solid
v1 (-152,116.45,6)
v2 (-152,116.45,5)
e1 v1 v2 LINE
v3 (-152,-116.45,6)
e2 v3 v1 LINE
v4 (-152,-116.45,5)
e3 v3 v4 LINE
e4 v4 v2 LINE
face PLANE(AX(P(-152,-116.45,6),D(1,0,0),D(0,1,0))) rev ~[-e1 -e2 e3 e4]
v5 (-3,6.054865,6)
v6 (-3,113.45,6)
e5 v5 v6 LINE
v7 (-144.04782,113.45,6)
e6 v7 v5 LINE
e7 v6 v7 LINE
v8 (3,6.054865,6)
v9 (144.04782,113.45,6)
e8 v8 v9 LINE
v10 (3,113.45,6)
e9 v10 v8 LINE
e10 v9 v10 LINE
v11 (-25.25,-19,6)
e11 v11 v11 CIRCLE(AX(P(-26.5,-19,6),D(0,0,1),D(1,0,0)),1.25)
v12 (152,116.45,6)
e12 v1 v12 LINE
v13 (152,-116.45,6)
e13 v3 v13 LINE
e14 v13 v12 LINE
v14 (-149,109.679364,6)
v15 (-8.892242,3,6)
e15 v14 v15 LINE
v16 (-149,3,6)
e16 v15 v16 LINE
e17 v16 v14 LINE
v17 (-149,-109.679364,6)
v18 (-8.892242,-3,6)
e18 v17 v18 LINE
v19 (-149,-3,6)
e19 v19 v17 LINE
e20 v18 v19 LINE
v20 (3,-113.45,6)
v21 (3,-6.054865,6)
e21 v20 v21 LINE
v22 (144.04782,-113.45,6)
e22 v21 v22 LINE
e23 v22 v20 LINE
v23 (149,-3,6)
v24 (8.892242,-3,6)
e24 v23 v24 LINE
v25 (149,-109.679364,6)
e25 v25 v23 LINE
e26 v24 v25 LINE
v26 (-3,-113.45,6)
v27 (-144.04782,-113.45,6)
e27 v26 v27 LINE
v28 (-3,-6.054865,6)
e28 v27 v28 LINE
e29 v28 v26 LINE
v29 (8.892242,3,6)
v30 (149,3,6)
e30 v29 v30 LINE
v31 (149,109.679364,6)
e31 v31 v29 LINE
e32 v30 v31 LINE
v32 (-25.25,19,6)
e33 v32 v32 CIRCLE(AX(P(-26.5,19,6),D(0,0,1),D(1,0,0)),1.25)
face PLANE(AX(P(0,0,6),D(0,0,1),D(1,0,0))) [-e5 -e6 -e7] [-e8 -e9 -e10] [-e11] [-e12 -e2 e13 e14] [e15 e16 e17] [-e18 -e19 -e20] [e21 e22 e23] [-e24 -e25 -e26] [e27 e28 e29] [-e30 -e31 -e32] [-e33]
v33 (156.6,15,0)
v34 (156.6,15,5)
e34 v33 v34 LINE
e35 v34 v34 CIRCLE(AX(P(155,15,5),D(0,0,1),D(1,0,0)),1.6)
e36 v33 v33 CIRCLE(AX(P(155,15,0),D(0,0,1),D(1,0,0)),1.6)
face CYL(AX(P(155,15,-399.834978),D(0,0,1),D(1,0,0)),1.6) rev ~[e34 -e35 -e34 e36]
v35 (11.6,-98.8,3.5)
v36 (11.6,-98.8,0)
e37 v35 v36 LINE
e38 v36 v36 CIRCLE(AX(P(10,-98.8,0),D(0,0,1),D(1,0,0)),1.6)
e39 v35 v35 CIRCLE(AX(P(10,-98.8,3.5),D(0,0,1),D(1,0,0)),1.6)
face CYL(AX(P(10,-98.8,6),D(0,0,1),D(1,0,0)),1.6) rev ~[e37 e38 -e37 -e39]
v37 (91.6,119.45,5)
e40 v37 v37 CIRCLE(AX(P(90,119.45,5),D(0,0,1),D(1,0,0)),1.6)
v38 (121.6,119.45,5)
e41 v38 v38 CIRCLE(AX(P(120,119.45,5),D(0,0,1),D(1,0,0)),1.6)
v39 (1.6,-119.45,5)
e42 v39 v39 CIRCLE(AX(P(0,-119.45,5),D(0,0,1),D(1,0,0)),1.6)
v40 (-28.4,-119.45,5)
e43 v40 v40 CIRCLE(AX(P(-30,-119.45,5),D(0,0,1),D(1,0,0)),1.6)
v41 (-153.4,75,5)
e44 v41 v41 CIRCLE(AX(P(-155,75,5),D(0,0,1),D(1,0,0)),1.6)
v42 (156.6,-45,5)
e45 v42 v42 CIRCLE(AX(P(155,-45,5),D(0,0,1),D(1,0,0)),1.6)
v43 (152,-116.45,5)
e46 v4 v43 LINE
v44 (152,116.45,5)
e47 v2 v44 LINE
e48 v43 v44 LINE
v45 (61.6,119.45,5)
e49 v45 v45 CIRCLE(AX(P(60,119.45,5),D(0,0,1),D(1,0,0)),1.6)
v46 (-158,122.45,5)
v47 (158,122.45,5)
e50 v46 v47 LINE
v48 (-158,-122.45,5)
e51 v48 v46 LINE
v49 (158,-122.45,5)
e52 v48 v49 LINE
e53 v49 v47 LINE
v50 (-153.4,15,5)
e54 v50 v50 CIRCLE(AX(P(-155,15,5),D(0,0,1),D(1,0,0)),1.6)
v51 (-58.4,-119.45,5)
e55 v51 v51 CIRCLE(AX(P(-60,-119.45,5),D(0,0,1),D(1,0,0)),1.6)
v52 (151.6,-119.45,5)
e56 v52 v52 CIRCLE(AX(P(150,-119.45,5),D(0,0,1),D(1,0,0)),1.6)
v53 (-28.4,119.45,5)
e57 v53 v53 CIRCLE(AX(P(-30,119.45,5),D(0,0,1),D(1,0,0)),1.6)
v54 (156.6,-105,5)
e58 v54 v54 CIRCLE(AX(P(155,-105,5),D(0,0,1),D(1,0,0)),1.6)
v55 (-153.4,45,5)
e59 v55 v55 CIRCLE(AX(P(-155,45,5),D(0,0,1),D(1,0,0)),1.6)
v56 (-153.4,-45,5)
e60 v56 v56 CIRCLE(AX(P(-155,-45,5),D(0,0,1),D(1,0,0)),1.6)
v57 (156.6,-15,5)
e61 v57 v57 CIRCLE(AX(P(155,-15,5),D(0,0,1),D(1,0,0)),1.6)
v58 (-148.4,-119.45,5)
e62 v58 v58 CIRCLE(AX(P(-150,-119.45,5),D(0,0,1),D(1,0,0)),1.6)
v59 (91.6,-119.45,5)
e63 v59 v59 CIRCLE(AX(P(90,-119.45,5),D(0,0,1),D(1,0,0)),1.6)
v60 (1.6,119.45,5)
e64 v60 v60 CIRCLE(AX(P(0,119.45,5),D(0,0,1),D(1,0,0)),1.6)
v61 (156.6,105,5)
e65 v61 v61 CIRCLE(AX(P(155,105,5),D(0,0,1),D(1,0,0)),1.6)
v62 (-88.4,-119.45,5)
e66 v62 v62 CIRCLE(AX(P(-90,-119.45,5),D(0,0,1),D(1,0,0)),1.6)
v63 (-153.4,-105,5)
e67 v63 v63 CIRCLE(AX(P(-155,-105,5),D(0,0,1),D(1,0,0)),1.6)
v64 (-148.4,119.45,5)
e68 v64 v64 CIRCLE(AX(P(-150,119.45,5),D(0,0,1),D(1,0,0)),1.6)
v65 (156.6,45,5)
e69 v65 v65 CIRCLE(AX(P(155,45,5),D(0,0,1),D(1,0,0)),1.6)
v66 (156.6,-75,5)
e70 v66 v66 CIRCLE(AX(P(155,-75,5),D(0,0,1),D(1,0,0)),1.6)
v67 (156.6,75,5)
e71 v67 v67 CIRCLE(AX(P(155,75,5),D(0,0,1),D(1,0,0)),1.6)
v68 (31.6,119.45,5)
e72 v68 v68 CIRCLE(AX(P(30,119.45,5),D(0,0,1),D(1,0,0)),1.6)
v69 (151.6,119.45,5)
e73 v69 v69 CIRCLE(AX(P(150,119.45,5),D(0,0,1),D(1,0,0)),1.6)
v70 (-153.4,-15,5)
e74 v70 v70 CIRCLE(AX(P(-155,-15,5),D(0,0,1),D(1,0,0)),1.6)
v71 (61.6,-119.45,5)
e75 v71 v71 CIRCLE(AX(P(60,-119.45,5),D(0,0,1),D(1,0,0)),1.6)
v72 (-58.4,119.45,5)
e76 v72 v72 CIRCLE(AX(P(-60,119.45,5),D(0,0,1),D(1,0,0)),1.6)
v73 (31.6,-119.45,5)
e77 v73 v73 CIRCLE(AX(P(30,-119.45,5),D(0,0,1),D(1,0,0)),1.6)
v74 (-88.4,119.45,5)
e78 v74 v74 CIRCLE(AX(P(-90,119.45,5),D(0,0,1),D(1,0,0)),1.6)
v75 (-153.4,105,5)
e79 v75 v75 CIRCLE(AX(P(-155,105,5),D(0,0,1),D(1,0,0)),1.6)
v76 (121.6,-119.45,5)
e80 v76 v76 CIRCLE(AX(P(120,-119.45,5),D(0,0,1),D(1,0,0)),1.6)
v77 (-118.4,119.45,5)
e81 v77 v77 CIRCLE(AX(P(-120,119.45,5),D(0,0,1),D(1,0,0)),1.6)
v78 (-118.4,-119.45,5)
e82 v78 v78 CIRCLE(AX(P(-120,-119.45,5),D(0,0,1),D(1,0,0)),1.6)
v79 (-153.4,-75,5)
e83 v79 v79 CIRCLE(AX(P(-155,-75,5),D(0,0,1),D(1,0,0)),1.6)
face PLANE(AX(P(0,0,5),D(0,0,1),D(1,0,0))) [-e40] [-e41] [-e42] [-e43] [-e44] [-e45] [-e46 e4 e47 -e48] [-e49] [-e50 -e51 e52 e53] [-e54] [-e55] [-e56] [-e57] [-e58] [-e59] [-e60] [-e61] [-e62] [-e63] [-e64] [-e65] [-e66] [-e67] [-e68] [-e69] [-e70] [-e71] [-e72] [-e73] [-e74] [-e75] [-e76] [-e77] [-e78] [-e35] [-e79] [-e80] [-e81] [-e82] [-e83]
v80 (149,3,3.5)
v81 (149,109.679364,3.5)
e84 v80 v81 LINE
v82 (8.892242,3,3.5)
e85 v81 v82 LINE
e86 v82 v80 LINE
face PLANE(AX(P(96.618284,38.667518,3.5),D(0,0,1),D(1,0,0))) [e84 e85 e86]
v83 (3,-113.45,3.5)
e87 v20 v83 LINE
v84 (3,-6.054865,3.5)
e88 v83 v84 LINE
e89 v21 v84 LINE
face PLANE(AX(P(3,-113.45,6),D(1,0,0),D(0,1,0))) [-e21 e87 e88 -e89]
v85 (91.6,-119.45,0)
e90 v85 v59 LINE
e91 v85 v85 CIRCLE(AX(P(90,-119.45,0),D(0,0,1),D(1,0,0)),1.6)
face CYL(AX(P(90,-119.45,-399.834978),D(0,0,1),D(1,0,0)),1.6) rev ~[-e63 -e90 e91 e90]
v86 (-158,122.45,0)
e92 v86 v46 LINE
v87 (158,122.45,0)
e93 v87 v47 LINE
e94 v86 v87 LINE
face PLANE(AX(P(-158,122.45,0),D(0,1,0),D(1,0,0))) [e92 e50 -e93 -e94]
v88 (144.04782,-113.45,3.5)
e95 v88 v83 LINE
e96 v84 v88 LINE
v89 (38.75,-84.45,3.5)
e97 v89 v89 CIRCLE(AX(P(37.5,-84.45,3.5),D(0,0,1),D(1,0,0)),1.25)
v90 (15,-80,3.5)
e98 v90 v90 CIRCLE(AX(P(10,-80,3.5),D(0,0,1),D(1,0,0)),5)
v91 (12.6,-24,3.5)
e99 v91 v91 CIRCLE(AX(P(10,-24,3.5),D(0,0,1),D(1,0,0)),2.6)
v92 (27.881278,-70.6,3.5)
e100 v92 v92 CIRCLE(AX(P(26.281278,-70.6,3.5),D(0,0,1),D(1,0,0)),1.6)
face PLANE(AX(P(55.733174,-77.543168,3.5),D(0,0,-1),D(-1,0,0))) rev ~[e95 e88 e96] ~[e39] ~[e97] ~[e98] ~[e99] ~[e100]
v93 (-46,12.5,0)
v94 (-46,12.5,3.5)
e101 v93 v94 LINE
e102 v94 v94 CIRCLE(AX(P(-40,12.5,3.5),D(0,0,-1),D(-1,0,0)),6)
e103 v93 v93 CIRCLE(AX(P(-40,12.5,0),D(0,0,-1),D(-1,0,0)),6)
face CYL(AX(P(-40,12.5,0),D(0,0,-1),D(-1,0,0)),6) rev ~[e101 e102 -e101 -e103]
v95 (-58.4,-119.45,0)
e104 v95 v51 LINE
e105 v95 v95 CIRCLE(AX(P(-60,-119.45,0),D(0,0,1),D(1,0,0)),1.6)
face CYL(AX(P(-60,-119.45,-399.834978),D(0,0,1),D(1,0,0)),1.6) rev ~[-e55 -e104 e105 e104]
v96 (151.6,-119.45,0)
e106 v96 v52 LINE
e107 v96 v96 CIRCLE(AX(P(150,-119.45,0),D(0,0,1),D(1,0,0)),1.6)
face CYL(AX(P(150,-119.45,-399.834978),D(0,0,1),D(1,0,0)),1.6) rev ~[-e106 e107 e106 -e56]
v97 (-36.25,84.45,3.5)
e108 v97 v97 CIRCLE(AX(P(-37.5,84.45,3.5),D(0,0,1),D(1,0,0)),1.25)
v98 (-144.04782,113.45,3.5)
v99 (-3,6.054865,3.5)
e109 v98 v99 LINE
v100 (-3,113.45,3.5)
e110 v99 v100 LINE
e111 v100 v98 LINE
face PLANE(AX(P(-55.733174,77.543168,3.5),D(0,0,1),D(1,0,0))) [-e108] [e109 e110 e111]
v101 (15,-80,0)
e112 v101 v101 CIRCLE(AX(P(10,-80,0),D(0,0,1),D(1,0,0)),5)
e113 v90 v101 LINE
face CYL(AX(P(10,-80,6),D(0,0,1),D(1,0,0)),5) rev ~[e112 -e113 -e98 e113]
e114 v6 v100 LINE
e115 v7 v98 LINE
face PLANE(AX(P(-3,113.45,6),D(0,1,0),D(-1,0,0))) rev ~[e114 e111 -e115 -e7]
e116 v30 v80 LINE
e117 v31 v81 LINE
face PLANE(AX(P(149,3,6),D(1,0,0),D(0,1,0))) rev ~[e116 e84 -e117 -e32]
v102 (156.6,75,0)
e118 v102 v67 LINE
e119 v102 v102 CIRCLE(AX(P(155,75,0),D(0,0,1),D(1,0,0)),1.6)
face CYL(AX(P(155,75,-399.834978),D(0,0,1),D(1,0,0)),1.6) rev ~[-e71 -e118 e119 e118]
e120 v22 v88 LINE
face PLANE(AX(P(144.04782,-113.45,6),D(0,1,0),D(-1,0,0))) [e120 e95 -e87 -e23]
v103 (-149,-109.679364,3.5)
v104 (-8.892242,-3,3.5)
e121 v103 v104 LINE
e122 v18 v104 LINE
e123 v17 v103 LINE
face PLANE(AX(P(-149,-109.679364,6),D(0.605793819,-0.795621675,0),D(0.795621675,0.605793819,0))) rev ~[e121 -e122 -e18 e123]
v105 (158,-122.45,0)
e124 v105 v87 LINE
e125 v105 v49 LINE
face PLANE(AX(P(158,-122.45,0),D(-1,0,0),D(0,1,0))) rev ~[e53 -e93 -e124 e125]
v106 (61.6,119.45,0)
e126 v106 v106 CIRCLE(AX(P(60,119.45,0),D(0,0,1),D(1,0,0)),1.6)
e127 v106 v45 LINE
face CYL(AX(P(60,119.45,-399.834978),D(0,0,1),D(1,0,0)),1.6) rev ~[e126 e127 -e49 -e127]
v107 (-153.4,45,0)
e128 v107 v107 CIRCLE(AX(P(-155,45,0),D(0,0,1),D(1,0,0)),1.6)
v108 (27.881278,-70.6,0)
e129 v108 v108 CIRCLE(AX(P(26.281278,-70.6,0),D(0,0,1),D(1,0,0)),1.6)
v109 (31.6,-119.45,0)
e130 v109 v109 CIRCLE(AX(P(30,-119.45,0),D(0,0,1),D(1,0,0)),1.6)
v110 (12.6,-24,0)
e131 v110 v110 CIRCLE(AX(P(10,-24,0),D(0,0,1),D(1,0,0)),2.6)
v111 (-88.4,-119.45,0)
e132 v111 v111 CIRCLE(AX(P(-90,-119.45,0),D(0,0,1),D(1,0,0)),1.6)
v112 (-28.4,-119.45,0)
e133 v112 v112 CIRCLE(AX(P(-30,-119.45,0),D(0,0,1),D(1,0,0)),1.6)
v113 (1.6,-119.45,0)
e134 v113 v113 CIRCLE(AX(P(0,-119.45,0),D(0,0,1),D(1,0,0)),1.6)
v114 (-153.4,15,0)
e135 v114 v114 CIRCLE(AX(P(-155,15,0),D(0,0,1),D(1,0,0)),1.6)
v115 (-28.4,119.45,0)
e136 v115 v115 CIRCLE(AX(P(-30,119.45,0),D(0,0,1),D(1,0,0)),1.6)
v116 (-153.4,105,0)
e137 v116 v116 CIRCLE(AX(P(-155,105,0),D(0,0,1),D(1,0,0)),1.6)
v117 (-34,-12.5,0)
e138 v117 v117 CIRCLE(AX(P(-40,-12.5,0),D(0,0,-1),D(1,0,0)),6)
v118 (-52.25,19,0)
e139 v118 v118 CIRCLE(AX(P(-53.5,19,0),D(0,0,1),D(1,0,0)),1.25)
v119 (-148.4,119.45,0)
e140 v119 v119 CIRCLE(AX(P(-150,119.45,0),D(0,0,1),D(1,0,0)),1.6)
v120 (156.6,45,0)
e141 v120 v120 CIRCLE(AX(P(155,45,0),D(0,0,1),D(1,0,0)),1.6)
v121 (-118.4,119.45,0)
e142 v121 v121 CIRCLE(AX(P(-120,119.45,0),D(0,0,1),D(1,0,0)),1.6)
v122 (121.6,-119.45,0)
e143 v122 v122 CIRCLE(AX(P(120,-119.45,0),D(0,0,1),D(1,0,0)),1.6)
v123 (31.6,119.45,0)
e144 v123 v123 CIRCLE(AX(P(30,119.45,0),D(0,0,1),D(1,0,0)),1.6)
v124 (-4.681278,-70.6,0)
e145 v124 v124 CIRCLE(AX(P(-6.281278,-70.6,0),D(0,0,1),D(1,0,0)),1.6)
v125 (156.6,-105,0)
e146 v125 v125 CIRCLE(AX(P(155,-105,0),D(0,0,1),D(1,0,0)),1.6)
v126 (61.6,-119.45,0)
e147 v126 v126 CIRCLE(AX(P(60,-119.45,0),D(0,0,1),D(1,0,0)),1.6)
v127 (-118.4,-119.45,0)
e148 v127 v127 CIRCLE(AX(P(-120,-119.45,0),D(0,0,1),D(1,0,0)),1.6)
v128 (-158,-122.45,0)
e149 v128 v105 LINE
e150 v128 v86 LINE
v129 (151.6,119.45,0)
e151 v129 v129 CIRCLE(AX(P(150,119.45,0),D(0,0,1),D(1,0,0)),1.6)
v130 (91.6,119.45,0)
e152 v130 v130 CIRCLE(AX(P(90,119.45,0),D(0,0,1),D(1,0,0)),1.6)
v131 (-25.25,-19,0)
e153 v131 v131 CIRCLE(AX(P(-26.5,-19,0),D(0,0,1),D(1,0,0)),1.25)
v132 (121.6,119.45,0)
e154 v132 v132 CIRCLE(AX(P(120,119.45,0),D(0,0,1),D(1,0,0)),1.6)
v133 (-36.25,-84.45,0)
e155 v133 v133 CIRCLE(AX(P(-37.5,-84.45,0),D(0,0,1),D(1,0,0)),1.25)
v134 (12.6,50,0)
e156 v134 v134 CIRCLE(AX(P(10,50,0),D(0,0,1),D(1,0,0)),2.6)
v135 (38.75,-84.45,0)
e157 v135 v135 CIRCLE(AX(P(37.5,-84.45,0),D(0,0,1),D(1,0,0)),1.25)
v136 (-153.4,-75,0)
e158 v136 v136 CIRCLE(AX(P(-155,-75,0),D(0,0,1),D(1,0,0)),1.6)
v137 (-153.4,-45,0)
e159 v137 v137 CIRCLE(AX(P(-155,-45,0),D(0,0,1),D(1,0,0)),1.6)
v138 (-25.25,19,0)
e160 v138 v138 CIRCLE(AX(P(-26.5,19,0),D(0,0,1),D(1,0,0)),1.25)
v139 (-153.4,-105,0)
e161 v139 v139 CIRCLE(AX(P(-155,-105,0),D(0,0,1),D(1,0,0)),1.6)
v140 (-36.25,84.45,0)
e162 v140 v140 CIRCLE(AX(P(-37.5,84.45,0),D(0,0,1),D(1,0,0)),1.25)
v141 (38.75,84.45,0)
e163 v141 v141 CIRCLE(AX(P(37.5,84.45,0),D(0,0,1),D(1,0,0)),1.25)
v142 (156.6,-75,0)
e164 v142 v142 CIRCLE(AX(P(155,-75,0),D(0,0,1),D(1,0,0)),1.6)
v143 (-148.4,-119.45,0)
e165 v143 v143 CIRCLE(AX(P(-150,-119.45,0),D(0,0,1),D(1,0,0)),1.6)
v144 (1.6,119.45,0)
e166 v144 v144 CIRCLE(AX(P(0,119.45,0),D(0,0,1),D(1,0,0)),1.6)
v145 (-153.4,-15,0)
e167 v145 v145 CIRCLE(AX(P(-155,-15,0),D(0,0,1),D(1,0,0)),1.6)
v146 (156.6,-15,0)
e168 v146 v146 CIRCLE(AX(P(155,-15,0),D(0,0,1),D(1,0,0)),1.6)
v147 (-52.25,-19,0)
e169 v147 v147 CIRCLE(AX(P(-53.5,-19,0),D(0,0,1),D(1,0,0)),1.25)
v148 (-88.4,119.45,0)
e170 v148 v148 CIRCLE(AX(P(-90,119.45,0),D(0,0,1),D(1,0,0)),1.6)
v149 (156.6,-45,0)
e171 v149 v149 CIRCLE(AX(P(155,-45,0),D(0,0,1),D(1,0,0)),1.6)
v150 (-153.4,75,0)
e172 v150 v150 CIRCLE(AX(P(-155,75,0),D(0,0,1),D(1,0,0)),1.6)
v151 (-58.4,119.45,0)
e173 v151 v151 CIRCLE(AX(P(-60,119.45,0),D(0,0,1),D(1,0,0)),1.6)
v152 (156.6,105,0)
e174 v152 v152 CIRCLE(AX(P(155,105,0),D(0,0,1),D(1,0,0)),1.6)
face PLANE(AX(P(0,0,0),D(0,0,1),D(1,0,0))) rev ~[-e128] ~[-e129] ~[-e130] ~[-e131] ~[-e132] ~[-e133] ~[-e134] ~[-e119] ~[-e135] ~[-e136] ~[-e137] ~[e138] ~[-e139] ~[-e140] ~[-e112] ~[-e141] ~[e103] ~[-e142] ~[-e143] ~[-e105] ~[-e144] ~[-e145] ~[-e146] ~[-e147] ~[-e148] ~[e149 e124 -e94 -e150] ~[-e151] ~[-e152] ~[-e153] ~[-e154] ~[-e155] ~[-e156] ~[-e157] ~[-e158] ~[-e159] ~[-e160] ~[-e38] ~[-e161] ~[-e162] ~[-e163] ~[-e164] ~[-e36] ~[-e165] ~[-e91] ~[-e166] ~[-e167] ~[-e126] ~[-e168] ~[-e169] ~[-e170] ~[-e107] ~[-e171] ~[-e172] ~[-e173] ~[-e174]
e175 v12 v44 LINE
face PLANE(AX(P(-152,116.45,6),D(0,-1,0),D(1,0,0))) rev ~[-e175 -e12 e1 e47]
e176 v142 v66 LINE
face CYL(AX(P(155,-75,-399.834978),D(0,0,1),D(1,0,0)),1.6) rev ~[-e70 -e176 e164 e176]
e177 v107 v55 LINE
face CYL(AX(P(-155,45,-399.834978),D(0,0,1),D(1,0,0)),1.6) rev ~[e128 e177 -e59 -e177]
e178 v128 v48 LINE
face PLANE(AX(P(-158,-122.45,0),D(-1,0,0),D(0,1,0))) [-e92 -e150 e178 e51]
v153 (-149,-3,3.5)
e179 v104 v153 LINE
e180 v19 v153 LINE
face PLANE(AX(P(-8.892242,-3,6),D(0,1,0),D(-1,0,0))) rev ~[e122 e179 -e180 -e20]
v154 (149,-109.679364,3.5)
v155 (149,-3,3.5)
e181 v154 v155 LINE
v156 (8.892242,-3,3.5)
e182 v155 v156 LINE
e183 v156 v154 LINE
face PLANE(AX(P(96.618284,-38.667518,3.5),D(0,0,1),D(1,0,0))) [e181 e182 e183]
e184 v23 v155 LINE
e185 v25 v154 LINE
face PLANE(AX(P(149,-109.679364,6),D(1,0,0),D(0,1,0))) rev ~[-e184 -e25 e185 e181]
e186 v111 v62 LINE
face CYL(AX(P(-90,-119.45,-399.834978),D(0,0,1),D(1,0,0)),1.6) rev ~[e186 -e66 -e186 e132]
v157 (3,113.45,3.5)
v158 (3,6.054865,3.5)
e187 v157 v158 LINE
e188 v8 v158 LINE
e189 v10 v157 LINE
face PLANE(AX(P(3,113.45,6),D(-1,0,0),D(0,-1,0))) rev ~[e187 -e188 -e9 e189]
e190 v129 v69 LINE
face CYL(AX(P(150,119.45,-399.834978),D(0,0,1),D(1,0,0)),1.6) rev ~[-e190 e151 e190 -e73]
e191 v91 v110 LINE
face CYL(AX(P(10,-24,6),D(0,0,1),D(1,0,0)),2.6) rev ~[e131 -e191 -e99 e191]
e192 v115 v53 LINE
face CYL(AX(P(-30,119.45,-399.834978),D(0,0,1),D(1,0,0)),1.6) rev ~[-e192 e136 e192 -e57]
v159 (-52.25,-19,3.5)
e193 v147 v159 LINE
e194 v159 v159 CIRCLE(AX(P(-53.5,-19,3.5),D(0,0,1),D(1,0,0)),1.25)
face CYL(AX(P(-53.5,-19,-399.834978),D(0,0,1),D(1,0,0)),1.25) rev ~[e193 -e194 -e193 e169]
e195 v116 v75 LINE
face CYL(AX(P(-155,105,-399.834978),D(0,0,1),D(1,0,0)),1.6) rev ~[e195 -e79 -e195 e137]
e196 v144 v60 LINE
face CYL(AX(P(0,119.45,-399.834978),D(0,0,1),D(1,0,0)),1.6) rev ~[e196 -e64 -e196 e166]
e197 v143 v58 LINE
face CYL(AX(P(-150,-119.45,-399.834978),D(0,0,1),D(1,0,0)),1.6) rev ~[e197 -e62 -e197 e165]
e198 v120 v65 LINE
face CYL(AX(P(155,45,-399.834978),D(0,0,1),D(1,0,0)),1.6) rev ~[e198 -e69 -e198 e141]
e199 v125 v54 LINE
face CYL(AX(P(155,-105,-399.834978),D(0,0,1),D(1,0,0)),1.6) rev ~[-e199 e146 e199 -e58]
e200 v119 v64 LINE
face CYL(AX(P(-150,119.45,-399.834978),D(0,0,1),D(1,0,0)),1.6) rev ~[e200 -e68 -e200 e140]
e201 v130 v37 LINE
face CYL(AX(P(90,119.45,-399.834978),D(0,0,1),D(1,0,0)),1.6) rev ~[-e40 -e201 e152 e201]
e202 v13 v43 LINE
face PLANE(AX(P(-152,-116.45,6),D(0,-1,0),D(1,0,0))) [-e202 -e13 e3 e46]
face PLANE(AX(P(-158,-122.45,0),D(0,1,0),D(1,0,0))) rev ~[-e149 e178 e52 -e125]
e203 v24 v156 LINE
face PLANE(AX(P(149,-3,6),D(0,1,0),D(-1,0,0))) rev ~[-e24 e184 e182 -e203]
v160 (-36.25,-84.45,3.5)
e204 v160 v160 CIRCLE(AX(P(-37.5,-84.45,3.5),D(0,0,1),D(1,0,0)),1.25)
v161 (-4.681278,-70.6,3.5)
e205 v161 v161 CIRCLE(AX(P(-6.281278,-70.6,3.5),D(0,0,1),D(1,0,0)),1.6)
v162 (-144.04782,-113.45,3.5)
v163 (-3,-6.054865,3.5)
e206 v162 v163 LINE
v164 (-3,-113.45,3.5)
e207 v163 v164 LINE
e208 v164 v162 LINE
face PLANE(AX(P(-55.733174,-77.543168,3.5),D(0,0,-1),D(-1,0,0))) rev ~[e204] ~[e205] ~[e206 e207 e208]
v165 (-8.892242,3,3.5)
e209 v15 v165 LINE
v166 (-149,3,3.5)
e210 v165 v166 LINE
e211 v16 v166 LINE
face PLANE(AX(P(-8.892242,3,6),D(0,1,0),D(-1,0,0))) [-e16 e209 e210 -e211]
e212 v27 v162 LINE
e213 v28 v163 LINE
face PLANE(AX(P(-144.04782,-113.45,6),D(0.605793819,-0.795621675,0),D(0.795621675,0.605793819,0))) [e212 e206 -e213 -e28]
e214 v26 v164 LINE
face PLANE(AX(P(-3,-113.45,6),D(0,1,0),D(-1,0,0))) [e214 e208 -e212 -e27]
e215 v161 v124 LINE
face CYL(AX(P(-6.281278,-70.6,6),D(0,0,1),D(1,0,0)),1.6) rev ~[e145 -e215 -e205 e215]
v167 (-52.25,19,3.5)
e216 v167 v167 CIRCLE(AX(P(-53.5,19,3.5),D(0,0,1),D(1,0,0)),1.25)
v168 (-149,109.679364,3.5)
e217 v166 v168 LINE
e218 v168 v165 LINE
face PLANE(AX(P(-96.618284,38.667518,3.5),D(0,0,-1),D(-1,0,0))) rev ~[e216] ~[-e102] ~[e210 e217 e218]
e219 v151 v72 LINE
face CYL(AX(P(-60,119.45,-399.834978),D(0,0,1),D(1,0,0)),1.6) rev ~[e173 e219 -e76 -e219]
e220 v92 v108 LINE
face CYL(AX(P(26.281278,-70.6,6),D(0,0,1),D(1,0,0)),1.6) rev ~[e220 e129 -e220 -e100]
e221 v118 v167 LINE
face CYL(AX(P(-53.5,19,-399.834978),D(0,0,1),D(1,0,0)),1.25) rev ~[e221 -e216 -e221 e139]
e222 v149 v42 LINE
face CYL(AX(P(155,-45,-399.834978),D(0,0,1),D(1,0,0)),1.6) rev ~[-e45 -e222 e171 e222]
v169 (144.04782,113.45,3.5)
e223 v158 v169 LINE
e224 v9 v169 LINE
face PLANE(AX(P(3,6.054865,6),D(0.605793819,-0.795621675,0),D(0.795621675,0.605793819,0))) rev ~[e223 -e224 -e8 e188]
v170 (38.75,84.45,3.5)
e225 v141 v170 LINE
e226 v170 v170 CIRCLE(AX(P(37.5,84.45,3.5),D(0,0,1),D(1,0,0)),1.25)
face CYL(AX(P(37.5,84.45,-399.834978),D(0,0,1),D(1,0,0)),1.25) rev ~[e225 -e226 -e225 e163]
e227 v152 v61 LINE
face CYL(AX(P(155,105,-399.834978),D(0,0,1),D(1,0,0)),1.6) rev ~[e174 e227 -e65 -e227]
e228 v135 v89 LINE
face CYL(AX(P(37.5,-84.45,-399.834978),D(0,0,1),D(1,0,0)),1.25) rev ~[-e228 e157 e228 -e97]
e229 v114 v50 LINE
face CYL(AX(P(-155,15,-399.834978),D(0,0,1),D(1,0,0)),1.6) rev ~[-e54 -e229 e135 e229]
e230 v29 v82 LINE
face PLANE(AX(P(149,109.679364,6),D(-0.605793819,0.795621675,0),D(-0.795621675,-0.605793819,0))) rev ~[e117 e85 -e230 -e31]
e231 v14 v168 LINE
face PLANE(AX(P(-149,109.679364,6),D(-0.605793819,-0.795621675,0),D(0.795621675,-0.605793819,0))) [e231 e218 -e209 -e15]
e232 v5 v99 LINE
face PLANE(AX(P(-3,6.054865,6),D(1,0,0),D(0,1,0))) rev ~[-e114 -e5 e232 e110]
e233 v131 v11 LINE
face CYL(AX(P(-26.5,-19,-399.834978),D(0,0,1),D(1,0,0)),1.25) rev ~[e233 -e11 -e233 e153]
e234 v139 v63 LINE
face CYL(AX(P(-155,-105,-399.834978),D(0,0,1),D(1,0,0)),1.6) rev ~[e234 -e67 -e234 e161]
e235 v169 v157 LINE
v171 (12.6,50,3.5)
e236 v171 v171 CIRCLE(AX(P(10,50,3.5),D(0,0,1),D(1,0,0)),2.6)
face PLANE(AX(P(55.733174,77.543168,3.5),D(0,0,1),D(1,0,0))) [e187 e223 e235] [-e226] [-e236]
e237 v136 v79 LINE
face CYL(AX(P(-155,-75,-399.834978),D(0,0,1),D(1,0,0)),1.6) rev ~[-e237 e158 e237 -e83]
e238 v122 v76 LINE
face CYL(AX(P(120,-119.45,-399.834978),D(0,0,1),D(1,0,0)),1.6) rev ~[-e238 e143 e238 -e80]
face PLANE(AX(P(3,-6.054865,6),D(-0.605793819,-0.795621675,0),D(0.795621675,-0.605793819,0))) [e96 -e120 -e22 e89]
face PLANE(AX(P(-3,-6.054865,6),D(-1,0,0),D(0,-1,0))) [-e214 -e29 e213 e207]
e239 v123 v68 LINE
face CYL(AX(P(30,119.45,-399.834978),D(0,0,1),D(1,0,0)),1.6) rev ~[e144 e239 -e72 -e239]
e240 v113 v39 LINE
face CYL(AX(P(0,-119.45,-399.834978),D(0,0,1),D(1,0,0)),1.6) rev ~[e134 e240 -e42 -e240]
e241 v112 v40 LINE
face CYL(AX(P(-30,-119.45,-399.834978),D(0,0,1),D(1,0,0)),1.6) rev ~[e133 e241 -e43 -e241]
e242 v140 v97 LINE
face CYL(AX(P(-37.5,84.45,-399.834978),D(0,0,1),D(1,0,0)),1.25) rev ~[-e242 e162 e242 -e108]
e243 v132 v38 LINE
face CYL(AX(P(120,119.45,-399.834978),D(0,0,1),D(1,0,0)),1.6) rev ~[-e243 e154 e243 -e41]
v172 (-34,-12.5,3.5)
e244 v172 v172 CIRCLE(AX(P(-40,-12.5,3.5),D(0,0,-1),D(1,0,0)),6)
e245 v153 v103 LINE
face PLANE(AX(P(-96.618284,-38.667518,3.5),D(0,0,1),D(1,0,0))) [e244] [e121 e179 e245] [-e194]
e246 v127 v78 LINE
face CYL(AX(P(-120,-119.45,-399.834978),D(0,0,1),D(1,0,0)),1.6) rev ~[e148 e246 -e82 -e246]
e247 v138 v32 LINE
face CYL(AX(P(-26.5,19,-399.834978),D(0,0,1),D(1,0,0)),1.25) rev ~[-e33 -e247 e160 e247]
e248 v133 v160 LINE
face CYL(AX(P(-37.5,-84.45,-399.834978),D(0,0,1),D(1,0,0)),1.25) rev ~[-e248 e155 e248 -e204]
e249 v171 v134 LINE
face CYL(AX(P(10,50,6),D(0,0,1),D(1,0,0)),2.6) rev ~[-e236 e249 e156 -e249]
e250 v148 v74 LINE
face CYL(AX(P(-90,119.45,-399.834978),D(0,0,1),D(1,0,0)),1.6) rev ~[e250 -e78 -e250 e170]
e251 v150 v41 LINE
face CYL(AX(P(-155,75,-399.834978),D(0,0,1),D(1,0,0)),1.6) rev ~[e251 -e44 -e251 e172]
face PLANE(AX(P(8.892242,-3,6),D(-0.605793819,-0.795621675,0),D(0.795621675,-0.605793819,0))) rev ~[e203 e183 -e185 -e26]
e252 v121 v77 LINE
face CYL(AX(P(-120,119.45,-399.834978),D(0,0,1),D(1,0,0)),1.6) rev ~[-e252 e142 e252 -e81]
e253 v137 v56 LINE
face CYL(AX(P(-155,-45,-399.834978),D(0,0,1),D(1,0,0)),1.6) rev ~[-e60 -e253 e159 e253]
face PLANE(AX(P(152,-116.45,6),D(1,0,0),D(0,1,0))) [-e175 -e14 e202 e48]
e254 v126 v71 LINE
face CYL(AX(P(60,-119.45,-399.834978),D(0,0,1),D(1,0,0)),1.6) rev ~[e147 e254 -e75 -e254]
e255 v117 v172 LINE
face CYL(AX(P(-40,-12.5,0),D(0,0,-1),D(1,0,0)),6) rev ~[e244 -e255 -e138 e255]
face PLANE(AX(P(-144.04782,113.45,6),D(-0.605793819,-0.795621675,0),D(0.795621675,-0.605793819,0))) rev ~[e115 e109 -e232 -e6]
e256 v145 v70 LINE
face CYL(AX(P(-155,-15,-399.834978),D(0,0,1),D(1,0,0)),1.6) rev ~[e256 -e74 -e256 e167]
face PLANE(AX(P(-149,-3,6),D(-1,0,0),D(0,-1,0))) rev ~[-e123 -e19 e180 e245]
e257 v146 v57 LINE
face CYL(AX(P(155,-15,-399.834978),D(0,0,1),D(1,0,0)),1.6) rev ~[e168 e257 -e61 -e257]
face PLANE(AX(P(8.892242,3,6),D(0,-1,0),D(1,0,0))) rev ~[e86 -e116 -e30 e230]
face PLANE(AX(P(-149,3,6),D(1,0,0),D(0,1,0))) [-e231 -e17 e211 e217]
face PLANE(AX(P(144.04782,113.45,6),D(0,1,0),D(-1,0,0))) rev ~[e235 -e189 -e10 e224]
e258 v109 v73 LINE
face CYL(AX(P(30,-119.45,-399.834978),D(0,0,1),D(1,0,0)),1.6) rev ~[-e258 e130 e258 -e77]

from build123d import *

# Parameters (mm, degrees)
SKETCH_1_W             = 316
SKETCH_1_H             = 244.9
EXTRUDE_1_DEPTH        = 6
CUT_EXTRUDE_START      = 6
SKETCH_1_3_W           = 316
SKETCH_1_3_H           = 244.9
SKETCH_1_3_W_2         = 304
SKETCH_1_3_H_2         = 232.9
CUT_EXTRUDE_1_DEPTH    = 1
HOLE_WIZARD_M3_1_D     = 3.2
HOLE_WIZARD_M3_2_D     = 3.2
PATTERN_LINEAR_1_COUNT = 11
PATTERN_LINEAR_1_PITCH = 30
PATTERN_LINEAR_2_COUNT = 8
PATTERN_LINEAR_2_PITCH = 30
CUT_EXTRUDE_2_DEPTH    = 2.5
SKETCH_6_R             = 2.6
SKETCH_6_R_2           = 1.6
SKETCH_6_R_3           = 5
CUT_EXTRUDE_3_DEPTH    = 200.985005688
M3X0_5_1_D             = 2.5
SKETCH_7_R             = 6
CUT_EXTRUDE_5_DEPTH    = 200.985005688


with BuildPart() as part:
    # ｽｹｯﾁ1 → ﾎﾞｽ - 押し出し1 (new body)
    with BuildSketch(Plane.XY):
        Rectangle(SKETCH_1_W, SKETCH_1_H)
    extrude(amount=EXTRUDE_1_DEPTH)

    # ｽｹｯﾁ1<3> → ｶｯﾄ - 押し出し1 (cut)
    with BuildSketch(Plane.XY.offset(CUT_EXTRUDE_START)):
        Rectangle(SKETCH_1_3_W, SKETCH_1_3_H)
        Rectangle(SKETCH_1_3_W_2, SKETCH_1_3_H_2, mode=Mode.SUBTRACT)
    extrude(amount=-CUT_EXTRUDE_1_DEPTH, mode=Mode.SUBTRACT)

    # M3 すきま穴1 (through all)
    with Locations(Plane(origin=(155, 105, 0), x_dir=(-1, 0, 0), z_dir=(0, 0, -1))):
        with Locations((0, 0), (310, 0)):
            hole_wizard_m3_1 = Hole(HOLE_WIZARD_M3_1_D / 2)

    # M3 すきま穴2 (through all)
    with Locations(Plane(origin=(-150, 119.45, 0), x_dir=(-1, 0, 0), z_dir=(0, 0, -1))):
        with Locations((0, 0), (0, -238.9)):
            hole_wizard_m3_2 = Hole(HOLE_WIZARD_M3_2_D / 2)

    # 直線ﾊﾟﾀｰﾝ1: M3 すきま穴2 ×11
    with Locations(*[(i * PATTERN_LINEAR_1_PITCH, 0, 0) for i in range(1, PATTERN_LINEAR_1_COUNT)]):
        add(hole_wizard_m3_2, mode=Mode.SUBTRACT)

    # 直線ﾊﾟﾀｰﾝ2: M3 すきま穴1 ×8
    with Locations(*[(0, -i * PATTERN_LINEAR_2_PITCH, 0) for i in range(1, PATTERN_LINEAR_2_COUNT)]):
        add(hole_wizard_m3_1, mode=Mode.SUBTRACT)

    # ｽｹｯﾁ5 → ｶｯﾄ - 押し出し2 (cut)
    with BuildSketch(Plane.XY.offset(6)):
        Polygon((-3, -6.054864529), (-3, -113.45), (-144.047820055, -113.45), align=None)
        Polygon((-149, 109.679363659), (-8.892241646, 3), (-149, 3), align=None)
        Polygon((144.047820055, 113.45), (3, 113.45), (3, 6.054864529), align=None)
        Polygon((149, -109.679363659), (149, -3), (8.892241646, -3), align=None)
        Polygon((-144.047820055, 113.45), (-3, 6.054864529), (-3, 113.45), align=None)
        Polygon((3, -6.054864529), (144.047820055, -113.45), (3, -113.45), align=None)
        Polygon((-149, -109.679363659), (-8.892241646, -3), (-149, -3), align=None)
        Polygon((149, 3), (149, 109.679363659), (8.892241646, 3), align=None)
    extrude(amount=-CUT_EXTRUDE_2_DEPTH, mode=Mode.SUBTRACT)

    # ｽｹｯﾁ6 → ｶｯﾄ - 押し出し3 (cut, through all)
    with BuildSketch(Plane.XY.offset(6)):
        with Locations((10, -24)):
            Circle(SKETCH_6_R)
        with Locations((10, 50)):
            Circle(SKETCH_6_R)
        with Locations((10, -98.8)):
            Circle(SKETCH_6_R_2)
        with Locations((-6.281277591, -70.6)):
            Circle(SKETCH_6_R_2)
        with Locations((26.281277591, -70.6)):
            Circle(SKETCH_6_R_2)
        with Locations((10, -80)):
            Circle(SKETCH_6_R_3)
    extrude(amount=-CUT_EXTRUDE_3_DEPTH, mode=Mode.SUBTRACT)

    # M3x0.5 ねじ穴1 (through all)
    with Locations(Plane(origin=(0, 0, 0), x_dir=(-1, 0, 0), z_dir=(0, 0, -1))):
        with Locations((-37.5, 84.45), (37.5, 84.45), (53.5, -19), (53.5, 19), (26.5, 19), (26.5, -19), (37.5, -84.45), (-37.5, -84.45)):
            Hole(M3X0_5_1_D / 2)

    # ｽｹｯﾁ7 → ｶｯﾄ - 押し出し5 (cut, through all)
    with BuildSketch(Plane(origin=(0, 0, 0), x_dir=(-1, 0, 0), z_dir=(0, 0, -1))):
        with Locations((40, 12.5)):
            Circle(SKETCH_7_R)
        with Locations(Location((40, -12.5, 0), (0, 0, 180))):
            Circle(SKETCH_7_R)
    extrude(amount=-CUT_EXTRUDE_5_DEPTH, mode=Mode.SUBTRACT)


solid = part.part
